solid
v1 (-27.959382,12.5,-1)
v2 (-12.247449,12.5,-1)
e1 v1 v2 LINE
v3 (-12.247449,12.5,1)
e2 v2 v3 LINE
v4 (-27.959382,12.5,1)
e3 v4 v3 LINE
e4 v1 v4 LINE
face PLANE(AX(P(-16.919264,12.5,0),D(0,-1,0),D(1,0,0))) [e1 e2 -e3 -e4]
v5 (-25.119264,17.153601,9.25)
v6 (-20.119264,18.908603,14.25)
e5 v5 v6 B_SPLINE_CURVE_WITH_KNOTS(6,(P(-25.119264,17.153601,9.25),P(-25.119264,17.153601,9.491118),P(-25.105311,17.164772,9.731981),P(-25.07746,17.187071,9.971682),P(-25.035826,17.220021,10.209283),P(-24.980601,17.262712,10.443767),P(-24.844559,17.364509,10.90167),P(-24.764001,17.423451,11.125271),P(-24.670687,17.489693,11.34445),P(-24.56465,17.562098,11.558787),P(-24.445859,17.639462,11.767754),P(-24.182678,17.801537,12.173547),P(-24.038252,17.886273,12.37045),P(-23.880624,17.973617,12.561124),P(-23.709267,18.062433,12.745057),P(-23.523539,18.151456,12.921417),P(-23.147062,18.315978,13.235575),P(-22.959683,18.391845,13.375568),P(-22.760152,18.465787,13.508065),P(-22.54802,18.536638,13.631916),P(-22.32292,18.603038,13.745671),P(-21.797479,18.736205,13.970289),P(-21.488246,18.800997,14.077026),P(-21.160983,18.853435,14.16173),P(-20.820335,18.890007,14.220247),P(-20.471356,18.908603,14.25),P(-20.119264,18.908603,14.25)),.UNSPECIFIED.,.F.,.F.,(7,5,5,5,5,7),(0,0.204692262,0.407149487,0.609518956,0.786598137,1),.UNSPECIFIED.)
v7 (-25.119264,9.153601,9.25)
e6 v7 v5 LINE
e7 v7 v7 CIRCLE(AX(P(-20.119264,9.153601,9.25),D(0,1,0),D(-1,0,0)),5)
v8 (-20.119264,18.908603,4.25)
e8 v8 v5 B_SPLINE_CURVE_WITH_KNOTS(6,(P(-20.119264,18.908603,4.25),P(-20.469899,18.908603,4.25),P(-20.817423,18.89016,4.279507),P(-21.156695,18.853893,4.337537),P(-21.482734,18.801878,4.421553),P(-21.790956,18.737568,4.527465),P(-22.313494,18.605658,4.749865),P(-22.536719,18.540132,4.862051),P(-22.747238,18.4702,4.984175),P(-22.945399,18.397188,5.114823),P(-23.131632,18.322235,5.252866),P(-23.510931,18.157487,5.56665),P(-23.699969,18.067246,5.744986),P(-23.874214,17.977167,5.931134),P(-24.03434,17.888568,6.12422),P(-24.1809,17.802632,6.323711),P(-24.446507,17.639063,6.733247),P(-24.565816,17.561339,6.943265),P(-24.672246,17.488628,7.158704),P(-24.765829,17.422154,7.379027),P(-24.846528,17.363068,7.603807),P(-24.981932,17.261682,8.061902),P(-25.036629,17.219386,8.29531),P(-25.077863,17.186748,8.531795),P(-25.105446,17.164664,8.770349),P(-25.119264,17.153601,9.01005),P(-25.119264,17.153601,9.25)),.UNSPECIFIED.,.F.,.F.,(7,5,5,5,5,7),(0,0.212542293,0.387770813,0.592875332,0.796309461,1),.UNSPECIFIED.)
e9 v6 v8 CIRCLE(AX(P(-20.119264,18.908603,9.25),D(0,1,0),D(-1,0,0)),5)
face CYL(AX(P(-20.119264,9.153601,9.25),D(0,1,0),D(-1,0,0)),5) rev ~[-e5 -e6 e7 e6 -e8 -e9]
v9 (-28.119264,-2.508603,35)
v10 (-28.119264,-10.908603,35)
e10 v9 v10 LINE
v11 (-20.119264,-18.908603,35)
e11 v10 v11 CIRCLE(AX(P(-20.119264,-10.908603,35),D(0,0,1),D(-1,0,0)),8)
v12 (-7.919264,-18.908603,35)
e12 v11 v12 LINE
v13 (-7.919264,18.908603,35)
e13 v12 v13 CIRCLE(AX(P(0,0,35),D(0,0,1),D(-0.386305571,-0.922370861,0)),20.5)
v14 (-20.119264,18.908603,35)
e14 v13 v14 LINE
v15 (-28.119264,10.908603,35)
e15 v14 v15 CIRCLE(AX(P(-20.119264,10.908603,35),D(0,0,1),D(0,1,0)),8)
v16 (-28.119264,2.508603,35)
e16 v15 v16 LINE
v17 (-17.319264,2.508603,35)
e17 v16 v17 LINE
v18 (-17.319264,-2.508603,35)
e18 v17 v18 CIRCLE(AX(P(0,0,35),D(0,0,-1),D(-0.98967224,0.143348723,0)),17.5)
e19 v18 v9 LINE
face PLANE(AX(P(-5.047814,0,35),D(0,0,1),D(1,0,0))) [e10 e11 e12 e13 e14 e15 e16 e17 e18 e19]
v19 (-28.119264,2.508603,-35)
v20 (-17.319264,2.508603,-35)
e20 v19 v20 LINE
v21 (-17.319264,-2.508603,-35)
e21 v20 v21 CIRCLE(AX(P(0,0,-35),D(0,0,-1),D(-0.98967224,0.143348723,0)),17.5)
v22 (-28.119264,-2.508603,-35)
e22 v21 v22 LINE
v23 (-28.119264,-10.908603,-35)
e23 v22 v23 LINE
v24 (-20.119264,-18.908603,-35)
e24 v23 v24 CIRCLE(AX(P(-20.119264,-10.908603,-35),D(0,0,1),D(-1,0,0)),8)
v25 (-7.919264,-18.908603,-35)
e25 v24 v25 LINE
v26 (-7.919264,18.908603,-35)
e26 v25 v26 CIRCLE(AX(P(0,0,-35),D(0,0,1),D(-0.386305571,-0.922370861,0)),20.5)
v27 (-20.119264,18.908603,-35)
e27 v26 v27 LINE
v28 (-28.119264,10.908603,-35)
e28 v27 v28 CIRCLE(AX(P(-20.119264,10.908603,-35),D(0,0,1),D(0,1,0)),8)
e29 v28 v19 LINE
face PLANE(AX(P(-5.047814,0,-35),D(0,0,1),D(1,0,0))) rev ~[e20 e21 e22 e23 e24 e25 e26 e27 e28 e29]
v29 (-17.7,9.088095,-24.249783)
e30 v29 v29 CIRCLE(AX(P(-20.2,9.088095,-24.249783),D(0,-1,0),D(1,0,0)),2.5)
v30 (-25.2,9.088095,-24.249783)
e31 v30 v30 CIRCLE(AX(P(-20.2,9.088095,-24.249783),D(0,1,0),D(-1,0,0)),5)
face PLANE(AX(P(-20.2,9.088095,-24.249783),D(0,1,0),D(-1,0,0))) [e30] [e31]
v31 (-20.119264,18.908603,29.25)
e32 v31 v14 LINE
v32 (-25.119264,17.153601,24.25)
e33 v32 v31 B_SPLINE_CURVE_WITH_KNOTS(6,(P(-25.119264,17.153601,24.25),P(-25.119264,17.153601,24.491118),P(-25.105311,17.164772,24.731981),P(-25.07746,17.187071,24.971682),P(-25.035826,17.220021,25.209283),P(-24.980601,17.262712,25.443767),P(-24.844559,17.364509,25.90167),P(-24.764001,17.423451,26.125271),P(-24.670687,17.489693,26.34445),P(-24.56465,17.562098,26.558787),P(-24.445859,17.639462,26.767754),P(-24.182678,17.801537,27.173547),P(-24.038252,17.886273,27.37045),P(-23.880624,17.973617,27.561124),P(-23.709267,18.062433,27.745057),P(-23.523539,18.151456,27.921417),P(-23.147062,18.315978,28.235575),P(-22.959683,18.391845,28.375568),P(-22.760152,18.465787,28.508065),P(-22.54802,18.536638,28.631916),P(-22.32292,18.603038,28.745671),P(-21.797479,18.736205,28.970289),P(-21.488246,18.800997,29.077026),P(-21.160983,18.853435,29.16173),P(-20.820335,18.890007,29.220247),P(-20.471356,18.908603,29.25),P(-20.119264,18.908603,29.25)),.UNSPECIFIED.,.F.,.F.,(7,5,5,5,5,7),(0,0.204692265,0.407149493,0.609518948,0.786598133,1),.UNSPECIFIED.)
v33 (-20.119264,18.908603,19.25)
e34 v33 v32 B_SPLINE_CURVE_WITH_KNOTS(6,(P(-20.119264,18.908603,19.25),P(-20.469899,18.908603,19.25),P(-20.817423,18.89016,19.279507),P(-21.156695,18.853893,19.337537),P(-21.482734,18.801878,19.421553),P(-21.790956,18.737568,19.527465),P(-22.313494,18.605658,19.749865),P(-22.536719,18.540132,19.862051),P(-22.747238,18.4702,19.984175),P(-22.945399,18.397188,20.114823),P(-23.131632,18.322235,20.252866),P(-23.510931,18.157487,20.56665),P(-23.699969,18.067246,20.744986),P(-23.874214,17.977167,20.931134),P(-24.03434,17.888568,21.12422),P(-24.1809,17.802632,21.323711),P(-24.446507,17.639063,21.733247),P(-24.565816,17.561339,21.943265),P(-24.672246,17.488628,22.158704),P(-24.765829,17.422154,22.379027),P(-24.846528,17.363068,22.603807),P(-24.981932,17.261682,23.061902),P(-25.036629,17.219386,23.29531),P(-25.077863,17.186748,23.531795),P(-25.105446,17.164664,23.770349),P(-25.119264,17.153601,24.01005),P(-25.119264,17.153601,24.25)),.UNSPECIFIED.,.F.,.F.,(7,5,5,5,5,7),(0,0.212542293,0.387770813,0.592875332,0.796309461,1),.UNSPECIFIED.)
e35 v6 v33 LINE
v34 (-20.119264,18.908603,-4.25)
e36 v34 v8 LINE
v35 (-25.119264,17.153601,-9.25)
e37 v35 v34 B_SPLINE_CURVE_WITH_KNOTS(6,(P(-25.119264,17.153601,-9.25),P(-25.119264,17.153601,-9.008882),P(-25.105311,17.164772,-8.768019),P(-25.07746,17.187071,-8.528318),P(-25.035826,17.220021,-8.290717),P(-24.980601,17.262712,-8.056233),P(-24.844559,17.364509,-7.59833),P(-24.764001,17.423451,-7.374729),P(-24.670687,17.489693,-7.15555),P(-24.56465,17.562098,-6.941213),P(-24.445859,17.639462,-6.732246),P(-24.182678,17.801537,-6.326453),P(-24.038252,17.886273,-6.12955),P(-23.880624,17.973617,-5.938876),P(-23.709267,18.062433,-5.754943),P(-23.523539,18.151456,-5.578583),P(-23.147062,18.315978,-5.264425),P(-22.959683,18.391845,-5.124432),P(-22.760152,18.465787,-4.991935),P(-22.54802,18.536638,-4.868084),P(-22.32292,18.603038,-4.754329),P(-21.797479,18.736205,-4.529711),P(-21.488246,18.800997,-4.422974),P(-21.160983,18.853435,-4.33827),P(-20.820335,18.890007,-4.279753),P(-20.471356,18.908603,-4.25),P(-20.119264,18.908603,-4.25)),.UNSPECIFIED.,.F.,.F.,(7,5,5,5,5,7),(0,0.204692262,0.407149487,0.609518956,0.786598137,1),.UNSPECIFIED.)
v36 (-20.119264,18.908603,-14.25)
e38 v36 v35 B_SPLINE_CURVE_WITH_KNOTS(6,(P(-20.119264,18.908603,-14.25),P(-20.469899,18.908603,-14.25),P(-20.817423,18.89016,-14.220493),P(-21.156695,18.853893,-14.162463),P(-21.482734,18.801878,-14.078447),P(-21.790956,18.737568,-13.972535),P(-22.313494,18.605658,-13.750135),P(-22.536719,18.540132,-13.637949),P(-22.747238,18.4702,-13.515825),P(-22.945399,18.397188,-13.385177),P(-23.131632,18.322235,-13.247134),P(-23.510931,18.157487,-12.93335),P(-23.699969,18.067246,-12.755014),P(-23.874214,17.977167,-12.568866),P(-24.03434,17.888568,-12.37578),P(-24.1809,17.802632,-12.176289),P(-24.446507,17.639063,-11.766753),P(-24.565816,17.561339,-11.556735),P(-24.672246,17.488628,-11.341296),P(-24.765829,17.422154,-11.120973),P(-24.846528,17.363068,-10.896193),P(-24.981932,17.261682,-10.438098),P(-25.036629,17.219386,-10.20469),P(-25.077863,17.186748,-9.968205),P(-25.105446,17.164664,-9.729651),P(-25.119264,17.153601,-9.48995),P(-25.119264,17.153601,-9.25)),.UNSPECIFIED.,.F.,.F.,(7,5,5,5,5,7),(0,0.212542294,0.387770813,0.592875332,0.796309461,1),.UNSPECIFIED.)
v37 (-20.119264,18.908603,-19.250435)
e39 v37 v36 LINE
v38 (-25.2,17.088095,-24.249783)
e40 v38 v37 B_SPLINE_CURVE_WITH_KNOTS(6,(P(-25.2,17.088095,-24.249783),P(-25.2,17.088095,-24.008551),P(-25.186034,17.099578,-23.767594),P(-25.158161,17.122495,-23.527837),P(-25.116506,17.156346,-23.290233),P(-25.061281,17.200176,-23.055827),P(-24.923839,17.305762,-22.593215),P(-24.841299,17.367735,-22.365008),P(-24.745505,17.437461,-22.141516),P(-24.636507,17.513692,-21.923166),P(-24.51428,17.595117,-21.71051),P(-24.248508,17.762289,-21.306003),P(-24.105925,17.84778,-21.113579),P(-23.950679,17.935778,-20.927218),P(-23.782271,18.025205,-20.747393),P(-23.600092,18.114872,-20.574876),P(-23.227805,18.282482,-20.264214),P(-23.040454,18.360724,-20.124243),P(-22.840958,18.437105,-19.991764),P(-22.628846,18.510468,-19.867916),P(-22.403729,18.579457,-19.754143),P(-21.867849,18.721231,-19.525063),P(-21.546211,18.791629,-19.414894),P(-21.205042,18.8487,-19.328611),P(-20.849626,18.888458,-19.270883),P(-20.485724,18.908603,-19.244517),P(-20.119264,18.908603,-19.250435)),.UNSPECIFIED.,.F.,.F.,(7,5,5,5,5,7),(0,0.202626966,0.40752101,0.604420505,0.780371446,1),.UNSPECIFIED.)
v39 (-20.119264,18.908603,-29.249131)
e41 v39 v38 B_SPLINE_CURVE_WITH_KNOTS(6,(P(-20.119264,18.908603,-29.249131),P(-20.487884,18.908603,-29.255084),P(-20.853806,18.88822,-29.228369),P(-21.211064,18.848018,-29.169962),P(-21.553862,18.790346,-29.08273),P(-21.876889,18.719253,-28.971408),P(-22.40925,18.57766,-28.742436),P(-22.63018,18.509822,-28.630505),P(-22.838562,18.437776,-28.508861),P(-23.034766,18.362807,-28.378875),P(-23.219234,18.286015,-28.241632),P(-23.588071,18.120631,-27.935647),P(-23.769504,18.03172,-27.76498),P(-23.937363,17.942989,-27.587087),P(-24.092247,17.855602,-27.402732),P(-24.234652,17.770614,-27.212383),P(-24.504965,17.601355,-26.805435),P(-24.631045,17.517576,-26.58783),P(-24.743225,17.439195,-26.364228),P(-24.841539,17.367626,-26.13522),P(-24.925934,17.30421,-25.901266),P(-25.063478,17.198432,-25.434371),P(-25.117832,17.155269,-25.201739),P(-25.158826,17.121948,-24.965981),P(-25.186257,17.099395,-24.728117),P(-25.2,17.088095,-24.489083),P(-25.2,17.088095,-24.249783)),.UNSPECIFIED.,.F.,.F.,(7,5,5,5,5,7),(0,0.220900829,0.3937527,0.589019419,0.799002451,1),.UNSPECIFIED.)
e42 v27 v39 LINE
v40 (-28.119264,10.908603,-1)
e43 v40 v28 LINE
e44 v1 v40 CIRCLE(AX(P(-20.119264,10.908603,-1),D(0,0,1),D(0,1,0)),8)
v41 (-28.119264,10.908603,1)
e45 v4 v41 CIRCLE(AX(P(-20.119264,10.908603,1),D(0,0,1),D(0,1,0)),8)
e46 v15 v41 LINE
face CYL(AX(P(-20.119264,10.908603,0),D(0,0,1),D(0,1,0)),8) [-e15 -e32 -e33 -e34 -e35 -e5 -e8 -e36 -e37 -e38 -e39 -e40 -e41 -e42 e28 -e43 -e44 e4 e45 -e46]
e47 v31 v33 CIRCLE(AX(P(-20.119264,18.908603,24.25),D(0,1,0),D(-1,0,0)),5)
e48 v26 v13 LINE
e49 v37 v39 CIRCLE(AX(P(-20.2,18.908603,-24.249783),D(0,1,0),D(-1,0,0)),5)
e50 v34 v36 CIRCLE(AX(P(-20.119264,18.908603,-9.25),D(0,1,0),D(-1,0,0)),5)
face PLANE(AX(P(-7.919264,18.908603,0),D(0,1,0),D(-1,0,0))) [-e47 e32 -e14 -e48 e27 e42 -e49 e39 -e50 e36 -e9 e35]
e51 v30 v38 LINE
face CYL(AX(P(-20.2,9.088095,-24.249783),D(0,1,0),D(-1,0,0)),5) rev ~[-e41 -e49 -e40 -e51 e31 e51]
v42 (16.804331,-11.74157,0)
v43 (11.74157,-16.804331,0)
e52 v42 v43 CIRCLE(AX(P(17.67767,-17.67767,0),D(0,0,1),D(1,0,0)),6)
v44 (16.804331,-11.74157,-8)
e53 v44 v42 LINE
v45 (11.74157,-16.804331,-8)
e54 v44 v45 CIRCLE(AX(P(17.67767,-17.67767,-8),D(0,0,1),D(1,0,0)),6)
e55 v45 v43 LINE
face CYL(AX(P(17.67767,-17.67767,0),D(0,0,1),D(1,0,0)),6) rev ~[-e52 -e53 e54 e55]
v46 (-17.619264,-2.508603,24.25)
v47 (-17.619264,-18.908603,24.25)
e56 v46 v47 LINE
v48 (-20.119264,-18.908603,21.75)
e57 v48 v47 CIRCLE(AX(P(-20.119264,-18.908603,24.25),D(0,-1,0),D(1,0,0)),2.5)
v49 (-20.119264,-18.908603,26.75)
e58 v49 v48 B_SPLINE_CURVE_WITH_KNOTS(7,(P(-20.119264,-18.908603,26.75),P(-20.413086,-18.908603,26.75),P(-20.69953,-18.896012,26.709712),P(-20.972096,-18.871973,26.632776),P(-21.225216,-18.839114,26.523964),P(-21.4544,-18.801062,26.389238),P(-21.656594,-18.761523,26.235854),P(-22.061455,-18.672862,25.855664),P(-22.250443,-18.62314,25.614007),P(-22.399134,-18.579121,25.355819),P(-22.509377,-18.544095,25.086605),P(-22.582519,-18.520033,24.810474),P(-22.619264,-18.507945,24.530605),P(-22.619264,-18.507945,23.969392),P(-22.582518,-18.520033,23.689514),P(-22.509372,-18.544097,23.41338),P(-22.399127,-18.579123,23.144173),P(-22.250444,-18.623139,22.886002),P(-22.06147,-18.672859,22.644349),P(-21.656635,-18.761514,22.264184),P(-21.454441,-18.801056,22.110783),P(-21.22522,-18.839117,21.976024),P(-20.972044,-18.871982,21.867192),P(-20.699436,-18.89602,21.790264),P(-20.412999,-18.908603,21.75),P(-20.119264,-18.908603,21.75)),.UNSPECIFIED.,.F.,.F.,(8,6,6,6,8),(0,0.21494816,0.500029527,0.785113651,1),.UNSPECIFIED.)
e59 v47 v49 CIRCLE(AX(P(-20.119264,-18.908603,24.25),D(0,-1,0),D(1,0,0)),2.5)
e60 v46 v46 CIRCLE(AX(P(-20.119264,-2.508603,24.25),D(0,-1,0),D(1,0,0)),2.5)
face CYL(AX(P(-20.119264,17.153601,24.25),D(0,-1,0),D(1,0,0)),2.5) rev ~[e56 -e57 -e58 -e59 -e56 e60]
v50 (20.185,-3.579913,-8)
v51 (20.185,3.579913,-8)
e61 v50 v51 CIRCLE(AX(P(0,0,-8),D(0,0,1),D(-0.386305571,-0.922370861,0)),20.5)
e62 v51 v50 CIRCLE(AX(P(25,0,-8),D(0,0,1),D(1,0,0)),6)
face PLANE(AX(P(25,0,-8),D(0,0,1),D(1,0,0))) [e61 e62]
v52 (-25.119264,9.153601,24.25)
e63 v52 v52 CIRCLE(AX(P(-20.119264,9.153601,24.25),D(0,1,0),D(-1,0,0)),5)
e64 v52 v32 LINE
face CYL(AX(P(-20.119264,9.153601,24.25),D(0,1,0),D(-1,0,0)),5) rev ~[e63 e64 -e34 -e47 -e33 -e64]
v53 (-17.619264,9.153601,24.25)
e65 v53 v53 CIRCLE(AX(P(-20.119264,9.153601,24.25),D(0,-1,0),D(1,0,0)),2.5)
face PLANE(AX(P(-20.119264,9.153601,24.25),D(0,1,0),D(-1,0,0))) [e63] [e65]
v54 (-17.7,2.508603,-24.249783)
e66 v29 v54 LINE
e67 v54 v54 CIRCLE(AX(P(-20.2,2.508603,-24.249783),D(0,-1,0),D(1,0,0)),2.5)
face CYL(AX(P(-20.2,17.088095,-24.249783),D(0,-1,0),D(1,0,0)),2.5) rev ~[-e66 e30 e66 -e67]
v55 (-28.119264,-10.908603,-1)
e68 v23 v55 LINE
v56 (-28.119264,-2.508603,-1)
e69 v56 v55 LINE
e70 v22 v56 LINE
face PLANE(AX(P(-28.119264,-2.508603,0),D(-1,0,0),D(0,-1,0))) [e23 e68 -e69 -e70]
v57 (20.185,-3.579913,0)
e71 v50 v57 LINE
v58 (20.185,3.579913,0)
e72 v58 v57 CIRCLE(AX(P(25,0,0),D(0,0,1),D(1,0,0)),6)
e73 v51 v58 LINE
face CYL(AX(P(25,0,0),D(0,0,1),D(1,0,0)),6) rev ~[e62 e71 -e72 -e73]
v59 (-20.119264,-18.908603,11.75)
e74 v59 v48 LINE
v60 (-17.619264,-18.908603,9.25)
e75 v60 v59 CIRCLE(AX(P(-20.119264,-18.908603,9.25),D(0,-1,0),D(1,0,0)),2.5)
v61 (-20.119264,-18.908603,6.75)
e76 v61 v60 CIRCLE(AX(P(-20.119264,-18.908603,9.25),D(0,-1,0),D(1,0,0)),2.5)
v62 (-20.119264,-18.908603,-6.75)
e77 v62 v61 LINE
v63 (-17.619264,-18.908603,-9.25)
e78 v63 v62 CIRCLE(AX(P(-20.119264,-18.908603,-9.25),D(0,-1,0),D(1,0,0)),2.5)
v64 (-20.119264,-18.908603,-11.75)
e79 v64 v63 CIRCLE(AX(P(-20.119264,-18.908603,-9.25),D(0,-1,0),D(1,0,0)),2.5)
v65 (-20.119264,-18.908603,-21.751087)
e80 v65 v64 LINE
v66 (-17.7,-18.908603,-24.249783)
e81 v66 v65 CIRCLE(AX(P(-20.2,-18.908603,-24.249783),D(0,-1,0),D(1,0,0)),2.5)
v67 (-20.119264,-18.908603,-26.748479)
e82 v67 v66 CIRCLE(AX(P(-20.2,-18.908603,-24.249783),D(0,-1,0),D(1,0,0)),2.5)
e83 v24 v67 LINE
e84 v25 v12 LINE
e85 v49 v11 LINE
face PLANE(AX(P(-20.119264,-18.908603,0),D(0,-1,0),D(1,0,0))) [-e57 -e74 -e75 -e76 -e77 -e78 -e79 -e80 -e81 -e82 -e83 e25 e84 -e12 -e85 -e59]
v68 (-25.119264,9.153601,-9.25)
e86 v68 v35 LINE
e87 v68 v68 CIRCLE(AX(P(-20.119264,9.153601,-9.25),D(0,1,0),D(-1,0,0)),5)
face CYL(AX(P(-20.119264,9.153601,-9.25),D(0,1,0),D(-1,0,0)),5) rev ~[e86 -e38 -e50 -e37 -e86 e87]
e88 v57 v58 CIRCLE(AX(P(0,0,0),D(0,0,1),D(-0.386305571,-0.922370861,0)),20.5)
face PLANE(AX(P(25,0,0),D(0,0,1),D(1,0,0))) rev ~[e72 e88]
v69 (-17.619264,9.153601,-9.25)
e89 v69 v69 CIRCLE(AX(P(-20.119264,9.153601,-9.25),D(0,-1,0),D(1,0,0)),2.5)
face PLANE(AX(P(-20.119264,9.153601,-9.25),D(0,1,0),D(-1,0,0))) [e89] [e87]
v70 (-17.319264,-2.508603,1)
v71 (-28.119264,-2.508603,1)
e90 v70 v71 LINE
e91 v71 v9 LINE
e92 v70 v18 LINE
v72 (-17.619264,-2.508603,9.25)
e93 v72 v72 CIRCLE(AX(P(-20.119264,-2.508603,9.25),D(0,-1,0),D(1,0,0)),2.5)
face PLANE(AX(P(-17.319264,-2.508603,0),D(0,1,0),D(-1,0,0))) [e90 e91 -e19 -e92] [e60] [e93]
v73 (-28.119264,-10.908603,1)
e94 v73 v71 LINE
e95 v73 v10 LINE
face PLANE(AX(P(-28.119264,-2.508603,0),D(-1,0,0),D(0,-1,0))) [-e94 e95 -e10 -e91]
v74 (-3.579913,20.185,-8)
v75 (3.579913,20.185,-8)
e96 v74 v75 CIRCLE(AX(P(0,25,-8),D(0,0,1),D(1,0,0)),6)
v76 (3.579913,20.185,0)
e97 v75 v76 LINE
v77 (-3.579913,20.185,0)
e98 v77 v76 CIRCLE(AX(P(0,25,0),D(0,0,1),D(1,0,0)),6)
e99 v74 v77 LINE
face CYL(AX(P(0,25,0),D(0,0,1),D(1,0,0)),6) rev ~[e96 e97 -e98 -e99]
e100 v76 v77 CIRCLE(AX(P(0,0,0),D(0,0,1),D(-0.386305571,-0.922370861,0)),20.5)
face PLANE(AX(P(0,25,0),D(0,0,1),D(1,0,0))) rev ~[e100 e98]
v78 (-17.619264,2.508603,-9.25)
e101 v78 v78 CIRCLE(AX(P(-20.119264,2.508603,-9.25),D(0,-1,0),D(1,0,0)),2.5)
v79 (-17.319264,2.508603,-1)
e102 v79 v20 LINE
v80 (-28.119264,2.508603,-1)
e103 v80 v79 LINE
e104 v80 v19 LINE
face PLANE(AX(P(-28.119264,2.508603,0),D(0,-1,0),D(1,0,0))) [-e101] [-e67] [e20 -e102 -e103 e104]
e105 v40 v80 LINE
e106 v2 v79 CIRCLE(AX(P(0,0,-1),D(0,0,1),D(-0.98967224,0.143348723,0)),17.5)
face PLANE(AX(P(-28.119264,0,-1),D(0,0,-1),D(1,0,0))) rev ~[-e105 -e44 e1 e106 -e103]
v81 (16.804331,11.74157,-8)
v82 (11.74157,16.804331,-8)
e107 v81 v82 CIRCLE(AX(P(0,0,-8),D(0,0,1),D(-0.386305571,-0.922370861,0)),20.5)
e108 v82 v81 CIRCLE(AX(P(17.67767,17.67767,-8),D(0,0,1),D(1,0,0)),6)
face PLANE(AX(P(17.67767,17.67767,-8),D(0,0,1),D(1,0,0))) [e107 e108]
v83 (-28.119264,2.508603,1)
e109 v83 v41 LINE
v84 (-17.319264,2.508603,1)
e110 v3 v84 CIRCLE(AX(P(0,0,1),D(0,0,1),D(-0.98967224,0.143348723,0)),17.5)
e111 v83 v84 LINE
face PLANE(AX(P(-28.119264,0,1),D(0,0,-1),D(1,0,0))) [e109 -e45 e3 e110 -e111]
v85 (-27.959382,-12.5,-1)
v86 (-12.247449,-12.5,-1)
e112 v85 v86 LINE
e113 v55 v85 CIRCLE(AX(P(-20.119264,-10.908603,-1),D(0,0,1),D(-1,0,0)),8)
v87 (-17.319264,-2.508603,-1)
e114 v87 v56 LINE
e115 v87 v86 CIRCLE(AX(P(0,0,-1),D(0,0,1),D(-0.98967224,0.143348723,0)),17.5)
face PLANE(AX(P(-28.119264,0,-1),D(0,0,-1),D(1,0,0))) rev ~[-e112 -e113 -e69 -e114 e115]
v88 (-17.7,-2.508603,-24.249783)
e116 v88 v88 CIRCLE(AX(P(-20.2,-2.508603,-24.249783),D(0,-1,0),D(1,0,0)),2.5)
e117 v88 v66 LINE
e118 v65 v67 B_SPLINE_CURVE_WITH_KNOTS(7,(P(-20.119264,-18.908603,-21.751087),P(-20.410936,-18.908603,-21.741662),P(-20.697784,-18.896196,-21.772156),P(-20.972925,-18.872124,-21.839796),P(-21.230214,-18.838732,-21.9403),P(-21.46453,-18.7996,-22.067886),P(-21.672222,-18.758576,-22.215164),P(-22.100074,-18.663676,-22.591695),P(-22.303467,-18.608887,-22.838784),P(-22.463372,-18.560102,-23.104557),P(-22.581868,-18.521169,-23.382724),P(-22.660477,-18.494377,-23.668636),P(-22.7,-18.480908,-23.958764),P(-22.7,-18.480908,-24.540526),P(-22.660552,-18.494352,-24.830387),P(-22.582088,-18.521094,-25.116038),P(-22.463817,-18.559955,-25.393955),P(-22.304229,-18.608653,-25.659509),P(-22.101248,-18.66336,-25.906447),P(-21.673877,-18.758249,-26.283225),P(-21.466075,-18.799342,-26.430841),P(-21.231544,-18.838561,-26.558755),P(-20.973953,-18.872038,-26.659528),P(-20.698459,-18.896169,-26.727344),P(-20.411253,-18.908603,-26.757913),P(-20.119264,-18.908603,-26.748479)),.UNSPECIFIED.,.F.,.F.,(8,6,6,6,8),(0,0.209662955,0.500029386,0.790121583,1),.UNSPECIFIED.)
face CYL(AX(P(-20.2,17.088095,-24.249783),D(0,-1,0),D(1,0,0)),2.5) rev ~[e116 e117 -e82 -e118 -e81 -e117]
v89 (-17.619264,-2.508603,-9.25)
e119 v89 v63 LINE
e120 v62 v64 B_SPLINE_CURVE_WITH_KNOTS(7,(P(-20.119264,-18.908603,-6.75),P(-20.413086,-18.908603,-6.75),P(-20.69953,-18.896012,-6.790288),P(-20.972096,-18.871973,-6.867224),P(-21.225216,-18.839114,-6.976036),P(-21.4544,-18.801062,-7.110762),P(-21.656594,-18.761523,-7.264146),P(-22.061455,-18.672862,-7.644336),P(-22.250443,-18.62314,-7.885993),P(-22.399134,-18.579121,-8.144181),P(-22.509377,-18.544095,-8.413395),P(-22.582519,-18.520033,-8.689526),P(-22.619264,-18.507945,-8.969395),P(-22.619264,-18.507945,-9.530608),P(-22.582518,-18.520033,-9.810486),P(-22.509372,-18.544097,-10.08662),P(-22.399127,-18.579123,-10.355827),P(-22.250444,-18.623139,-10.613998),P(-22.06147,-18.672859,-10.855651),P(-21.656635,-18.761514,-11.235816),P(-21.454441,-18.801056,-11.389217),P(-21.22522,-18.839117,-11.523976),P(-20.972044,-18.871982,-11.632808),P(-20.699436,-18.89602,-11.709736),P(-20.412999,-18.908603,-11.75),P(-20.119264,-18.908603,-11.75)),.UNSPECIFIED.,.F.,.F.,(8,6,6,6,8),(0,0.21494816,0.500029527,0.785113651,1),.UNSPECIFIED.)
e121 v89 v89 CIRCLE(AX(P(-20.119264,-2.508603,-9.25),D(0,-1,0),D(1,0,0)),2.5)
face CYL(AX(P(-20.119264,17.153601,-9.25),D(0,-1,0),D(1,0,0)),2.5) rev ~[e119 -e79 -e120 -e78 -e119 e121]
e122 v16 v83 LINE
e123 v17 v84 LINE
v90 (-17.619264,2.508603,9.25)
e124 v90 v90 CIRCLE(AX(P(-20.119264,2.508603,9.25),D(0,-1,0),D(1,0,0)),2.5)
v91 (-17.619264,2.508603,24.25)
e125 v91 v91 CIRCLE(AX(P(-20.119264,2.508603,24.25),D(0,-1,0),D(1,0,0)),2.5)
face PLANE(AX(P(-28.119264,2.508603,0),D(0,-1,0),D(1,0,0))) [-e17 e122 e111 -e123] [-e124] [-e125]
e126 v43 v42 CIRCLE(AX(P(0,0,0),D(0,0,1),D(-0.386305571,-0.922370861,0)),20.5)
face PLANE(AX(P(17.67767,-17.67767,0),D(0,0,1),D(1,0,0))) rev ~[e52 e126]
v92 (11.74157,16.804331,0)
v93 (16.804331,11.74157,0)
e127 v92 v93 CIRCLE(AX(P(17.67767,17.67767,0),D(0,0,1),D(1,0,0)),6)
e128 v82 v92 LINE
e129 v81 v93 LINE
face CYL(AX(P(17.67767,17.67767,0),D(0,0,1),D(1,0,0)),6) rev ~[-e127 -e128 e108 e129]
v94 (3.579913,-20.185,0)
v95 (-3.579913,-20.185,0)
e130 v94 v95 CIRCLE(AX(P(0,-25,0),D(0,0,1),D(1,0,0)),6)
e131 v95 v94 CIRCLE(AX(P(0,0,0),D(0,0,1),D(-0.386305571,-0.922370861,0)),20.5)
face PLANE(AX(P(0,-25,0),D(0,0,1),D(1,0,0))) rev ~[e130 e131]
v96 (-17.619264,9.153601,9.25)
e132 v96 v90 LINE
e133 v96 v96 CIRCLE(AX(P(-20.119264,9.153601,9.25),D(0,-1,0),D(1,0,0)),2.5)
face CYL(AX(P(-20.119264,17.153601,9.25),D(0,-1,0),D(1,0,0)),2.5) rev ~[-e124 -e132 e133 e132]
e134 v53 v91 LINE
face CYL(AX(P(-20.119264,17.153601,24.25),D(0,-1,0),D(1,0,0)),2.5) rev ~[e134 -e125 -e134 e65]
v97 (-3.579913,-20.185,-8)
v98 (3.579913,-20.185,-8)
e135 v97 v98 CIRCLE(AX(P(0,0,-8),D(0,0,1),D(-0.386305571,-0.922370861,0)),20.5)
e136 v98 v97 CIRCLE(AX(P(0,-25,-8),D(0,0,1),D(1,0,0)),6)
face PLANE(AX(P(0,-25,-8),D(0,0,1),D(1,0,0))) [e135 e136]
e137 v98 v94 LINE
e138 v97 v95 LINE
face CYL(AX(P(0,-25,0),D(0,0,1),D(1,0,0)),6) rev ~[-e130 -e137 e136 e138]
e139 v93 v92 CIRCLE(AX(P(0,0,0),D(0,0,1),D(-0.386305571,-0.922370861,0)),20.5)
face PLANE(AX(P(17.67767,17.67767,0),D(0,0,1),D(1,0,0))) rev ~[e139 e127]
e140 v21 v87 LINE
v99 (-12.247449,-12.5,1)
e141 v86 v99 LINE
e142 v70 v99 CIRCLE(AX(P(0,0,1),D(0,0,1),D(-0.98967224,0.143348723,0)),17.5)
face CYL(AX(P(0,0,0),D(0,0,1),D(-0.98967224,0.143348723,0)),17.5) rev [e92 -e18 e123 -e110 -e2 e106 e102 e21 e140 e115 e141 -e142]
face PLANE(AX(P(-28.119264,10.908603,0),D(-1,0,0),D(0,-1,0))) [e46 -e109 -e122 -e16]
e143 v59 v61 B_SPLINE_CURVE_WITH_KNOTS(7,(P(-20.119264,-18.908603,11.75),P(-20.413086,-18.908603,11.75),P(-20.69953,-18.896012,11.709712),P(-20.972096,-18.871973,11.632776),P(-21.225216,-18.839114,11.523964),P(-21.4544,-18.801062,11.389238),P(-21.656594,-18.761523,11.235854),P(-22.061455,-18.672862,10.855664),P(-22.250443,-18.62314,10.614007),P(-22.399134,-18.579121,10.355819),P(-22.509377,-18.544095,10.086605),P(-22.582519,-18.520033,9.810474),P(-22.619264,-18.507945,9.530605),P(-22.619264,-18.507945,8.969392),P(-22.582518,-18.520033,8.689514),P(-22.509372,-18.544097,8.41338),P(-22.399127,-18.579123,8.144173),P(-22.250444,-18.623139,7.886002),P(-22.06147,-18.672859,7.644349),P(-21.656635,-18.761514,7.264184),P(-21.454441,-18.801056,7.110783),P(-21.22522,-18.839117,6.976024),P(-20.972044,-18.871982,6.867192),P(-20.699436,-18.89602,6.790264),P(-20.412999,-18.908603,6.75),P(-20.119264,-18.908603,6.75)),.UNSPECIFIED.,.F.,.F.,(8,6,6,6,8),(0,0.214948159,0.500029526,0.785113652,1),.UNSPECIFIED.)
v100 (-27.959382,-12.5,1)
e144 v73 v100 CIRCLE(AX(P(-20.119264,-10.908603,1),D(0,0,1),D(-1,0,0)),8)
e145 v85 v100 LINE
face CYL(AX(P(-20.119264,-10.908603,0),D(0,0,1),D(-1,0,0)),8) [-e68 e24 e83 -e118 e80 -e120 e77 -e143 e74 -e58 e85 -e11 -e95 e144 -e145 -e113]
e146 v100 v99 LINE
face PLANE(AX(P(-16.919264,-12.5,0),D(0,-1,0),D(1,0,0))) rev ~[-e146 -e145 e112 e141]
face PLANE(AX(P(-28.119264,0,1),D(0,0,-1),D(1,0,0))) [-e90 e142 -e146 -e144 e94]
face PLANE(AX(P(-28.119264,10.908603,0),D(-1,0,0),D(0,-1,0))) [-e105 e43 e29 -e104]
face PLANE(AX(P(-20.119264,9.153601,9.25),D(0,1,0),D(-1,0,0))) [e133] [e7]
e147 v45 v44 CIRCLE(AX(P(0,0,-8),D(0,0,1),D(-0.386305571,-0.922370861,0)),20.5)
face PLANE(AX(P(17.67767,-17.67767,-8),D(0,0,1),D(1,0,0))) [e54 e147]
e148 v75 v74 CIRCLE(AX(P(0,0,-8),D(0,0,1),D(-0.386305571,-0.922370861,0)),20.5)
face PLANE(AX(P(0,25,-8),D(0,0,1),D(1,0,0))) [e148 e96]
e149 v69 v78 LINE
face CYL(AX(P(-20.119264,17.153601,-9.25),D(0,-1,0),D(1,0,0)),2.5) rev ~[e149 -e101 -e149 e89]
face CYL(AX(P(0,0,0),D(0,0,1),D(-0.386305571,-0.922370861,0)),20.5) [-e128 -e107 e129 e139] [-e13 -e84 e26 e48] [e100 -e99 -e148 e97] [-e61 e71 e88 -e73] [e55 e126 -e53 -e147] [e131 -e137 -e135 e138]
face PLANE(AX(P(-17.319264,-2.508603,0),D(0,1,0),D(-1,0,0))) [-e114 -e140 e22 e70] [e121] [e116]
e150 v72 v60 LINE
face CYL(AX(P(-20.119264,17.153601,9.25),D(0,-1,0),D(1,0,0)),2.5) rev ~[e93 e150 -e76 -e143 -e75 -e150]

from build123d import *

# Parameters (mm, degrees)
F1_DEPTH       = 35
F3_D           = 5
F3_START       = 1.7550021
F3_START_2     = 1.8205079
F3_CBORE_D     = 10
F3_CBORE_DEPTH = 8
F4_W           = 22.4
F4_H           = 2
F5_DEPTH       = 12.5
F6_R           = 6
F7_DEPTH       = 8


with BuildPart() as f1:
    # F0 (on Top) → F1 (new body, symmetric)
    with BuildSketch(Plane.XY):
        with BuildLine():
            ThreePointArc((-17.3192642082, 2.5086026559), (17.5, 0), (-17.3192642082, -2.5086026559))
            Line((-17.3192642082, -2.5086026559), (-28.1192642082, -2.5086026559))
            Line((-28.1192642082, -2.5086026559), (-28.1192642082, -10.9086026559))
            ThreePointArc((-28.1192642082, -10.9086026559), (-25.7761184577, -16.5654569054), (-20.1192642082, -18.9086026559))
            Line((-20.1192642082, -18.9086026559), (-7.9192642082, -18.9086026559))
            ThreePointArc((-7.9192642082, -18.9086026559), (20.5, 0), (-7.9192642082, 18.9086026559))
            Line((-7.9192642082, 18.9086026559), (-20.1192642082, 18.9086026559))
            ThreePointArc((-20.1192642082, 18.9086026559), (-25.7761184577, 16.5654569054), (-28.1192642082, 10.9086026559))
            Line((-28.1192642082, 10.9086026559), (-28.1192642082, 2.5086026559))
            Line((-28.1192642082, 2.5086026559), (-17.3192642082, 2.5086026559))
        make_face()
    extrude(amount=F1_DEPTH, both=True)

    # F3 (through all)
    # its depths count from where the whole tool has entered the part; down to there all is cleared
    with Locations(Plane(origin=(0, 18.9086026559, 0), x_dir=(-1, 0, 0), z_dir=(0, 1, 0))):
        with Locations((20.1192642082, 24.25, -F3_START), (20.1192642082, 9.25, -F3_START), (20.1192642082, -9.25, -F3_START), (20.2, -24.2497827228, -F3_START_2)):
            CounterBoreHole(F3_D / 2, F3_CBORE_D / 2, F3_CBORE_DEPTH)

    # F4 (on Front) → F5 (cut, symmetric)
    with BuildSketch(Plane.XZ):
        with Locations((-16.9192642082, 0)):
            Rectangle(F4_W, F4_H)
    extrude(amount=F5_DEPTH, both=True, mode=Mode.SUBTRACT)

    # F6 (on Top) → F7 (cut)
    with BuildSketch(Plane.XY):
        with Locations((0, -25)):
            Circle(F6_R)
        with Locations((17.6776695297, -17.6776695297)):
            Circle(F6_R)
        with Locations((25, 0)):
            Circle(F6_R)
        with Locations((17.6776695297, 17.6776695297)):
            Circle(F6_R)
        with Locations((0, 25)):
            Circle(F6_R)
    extrude(amount=-F7_DEPTH, mode=Mode.SUBTRACT)


solid = f1.part
